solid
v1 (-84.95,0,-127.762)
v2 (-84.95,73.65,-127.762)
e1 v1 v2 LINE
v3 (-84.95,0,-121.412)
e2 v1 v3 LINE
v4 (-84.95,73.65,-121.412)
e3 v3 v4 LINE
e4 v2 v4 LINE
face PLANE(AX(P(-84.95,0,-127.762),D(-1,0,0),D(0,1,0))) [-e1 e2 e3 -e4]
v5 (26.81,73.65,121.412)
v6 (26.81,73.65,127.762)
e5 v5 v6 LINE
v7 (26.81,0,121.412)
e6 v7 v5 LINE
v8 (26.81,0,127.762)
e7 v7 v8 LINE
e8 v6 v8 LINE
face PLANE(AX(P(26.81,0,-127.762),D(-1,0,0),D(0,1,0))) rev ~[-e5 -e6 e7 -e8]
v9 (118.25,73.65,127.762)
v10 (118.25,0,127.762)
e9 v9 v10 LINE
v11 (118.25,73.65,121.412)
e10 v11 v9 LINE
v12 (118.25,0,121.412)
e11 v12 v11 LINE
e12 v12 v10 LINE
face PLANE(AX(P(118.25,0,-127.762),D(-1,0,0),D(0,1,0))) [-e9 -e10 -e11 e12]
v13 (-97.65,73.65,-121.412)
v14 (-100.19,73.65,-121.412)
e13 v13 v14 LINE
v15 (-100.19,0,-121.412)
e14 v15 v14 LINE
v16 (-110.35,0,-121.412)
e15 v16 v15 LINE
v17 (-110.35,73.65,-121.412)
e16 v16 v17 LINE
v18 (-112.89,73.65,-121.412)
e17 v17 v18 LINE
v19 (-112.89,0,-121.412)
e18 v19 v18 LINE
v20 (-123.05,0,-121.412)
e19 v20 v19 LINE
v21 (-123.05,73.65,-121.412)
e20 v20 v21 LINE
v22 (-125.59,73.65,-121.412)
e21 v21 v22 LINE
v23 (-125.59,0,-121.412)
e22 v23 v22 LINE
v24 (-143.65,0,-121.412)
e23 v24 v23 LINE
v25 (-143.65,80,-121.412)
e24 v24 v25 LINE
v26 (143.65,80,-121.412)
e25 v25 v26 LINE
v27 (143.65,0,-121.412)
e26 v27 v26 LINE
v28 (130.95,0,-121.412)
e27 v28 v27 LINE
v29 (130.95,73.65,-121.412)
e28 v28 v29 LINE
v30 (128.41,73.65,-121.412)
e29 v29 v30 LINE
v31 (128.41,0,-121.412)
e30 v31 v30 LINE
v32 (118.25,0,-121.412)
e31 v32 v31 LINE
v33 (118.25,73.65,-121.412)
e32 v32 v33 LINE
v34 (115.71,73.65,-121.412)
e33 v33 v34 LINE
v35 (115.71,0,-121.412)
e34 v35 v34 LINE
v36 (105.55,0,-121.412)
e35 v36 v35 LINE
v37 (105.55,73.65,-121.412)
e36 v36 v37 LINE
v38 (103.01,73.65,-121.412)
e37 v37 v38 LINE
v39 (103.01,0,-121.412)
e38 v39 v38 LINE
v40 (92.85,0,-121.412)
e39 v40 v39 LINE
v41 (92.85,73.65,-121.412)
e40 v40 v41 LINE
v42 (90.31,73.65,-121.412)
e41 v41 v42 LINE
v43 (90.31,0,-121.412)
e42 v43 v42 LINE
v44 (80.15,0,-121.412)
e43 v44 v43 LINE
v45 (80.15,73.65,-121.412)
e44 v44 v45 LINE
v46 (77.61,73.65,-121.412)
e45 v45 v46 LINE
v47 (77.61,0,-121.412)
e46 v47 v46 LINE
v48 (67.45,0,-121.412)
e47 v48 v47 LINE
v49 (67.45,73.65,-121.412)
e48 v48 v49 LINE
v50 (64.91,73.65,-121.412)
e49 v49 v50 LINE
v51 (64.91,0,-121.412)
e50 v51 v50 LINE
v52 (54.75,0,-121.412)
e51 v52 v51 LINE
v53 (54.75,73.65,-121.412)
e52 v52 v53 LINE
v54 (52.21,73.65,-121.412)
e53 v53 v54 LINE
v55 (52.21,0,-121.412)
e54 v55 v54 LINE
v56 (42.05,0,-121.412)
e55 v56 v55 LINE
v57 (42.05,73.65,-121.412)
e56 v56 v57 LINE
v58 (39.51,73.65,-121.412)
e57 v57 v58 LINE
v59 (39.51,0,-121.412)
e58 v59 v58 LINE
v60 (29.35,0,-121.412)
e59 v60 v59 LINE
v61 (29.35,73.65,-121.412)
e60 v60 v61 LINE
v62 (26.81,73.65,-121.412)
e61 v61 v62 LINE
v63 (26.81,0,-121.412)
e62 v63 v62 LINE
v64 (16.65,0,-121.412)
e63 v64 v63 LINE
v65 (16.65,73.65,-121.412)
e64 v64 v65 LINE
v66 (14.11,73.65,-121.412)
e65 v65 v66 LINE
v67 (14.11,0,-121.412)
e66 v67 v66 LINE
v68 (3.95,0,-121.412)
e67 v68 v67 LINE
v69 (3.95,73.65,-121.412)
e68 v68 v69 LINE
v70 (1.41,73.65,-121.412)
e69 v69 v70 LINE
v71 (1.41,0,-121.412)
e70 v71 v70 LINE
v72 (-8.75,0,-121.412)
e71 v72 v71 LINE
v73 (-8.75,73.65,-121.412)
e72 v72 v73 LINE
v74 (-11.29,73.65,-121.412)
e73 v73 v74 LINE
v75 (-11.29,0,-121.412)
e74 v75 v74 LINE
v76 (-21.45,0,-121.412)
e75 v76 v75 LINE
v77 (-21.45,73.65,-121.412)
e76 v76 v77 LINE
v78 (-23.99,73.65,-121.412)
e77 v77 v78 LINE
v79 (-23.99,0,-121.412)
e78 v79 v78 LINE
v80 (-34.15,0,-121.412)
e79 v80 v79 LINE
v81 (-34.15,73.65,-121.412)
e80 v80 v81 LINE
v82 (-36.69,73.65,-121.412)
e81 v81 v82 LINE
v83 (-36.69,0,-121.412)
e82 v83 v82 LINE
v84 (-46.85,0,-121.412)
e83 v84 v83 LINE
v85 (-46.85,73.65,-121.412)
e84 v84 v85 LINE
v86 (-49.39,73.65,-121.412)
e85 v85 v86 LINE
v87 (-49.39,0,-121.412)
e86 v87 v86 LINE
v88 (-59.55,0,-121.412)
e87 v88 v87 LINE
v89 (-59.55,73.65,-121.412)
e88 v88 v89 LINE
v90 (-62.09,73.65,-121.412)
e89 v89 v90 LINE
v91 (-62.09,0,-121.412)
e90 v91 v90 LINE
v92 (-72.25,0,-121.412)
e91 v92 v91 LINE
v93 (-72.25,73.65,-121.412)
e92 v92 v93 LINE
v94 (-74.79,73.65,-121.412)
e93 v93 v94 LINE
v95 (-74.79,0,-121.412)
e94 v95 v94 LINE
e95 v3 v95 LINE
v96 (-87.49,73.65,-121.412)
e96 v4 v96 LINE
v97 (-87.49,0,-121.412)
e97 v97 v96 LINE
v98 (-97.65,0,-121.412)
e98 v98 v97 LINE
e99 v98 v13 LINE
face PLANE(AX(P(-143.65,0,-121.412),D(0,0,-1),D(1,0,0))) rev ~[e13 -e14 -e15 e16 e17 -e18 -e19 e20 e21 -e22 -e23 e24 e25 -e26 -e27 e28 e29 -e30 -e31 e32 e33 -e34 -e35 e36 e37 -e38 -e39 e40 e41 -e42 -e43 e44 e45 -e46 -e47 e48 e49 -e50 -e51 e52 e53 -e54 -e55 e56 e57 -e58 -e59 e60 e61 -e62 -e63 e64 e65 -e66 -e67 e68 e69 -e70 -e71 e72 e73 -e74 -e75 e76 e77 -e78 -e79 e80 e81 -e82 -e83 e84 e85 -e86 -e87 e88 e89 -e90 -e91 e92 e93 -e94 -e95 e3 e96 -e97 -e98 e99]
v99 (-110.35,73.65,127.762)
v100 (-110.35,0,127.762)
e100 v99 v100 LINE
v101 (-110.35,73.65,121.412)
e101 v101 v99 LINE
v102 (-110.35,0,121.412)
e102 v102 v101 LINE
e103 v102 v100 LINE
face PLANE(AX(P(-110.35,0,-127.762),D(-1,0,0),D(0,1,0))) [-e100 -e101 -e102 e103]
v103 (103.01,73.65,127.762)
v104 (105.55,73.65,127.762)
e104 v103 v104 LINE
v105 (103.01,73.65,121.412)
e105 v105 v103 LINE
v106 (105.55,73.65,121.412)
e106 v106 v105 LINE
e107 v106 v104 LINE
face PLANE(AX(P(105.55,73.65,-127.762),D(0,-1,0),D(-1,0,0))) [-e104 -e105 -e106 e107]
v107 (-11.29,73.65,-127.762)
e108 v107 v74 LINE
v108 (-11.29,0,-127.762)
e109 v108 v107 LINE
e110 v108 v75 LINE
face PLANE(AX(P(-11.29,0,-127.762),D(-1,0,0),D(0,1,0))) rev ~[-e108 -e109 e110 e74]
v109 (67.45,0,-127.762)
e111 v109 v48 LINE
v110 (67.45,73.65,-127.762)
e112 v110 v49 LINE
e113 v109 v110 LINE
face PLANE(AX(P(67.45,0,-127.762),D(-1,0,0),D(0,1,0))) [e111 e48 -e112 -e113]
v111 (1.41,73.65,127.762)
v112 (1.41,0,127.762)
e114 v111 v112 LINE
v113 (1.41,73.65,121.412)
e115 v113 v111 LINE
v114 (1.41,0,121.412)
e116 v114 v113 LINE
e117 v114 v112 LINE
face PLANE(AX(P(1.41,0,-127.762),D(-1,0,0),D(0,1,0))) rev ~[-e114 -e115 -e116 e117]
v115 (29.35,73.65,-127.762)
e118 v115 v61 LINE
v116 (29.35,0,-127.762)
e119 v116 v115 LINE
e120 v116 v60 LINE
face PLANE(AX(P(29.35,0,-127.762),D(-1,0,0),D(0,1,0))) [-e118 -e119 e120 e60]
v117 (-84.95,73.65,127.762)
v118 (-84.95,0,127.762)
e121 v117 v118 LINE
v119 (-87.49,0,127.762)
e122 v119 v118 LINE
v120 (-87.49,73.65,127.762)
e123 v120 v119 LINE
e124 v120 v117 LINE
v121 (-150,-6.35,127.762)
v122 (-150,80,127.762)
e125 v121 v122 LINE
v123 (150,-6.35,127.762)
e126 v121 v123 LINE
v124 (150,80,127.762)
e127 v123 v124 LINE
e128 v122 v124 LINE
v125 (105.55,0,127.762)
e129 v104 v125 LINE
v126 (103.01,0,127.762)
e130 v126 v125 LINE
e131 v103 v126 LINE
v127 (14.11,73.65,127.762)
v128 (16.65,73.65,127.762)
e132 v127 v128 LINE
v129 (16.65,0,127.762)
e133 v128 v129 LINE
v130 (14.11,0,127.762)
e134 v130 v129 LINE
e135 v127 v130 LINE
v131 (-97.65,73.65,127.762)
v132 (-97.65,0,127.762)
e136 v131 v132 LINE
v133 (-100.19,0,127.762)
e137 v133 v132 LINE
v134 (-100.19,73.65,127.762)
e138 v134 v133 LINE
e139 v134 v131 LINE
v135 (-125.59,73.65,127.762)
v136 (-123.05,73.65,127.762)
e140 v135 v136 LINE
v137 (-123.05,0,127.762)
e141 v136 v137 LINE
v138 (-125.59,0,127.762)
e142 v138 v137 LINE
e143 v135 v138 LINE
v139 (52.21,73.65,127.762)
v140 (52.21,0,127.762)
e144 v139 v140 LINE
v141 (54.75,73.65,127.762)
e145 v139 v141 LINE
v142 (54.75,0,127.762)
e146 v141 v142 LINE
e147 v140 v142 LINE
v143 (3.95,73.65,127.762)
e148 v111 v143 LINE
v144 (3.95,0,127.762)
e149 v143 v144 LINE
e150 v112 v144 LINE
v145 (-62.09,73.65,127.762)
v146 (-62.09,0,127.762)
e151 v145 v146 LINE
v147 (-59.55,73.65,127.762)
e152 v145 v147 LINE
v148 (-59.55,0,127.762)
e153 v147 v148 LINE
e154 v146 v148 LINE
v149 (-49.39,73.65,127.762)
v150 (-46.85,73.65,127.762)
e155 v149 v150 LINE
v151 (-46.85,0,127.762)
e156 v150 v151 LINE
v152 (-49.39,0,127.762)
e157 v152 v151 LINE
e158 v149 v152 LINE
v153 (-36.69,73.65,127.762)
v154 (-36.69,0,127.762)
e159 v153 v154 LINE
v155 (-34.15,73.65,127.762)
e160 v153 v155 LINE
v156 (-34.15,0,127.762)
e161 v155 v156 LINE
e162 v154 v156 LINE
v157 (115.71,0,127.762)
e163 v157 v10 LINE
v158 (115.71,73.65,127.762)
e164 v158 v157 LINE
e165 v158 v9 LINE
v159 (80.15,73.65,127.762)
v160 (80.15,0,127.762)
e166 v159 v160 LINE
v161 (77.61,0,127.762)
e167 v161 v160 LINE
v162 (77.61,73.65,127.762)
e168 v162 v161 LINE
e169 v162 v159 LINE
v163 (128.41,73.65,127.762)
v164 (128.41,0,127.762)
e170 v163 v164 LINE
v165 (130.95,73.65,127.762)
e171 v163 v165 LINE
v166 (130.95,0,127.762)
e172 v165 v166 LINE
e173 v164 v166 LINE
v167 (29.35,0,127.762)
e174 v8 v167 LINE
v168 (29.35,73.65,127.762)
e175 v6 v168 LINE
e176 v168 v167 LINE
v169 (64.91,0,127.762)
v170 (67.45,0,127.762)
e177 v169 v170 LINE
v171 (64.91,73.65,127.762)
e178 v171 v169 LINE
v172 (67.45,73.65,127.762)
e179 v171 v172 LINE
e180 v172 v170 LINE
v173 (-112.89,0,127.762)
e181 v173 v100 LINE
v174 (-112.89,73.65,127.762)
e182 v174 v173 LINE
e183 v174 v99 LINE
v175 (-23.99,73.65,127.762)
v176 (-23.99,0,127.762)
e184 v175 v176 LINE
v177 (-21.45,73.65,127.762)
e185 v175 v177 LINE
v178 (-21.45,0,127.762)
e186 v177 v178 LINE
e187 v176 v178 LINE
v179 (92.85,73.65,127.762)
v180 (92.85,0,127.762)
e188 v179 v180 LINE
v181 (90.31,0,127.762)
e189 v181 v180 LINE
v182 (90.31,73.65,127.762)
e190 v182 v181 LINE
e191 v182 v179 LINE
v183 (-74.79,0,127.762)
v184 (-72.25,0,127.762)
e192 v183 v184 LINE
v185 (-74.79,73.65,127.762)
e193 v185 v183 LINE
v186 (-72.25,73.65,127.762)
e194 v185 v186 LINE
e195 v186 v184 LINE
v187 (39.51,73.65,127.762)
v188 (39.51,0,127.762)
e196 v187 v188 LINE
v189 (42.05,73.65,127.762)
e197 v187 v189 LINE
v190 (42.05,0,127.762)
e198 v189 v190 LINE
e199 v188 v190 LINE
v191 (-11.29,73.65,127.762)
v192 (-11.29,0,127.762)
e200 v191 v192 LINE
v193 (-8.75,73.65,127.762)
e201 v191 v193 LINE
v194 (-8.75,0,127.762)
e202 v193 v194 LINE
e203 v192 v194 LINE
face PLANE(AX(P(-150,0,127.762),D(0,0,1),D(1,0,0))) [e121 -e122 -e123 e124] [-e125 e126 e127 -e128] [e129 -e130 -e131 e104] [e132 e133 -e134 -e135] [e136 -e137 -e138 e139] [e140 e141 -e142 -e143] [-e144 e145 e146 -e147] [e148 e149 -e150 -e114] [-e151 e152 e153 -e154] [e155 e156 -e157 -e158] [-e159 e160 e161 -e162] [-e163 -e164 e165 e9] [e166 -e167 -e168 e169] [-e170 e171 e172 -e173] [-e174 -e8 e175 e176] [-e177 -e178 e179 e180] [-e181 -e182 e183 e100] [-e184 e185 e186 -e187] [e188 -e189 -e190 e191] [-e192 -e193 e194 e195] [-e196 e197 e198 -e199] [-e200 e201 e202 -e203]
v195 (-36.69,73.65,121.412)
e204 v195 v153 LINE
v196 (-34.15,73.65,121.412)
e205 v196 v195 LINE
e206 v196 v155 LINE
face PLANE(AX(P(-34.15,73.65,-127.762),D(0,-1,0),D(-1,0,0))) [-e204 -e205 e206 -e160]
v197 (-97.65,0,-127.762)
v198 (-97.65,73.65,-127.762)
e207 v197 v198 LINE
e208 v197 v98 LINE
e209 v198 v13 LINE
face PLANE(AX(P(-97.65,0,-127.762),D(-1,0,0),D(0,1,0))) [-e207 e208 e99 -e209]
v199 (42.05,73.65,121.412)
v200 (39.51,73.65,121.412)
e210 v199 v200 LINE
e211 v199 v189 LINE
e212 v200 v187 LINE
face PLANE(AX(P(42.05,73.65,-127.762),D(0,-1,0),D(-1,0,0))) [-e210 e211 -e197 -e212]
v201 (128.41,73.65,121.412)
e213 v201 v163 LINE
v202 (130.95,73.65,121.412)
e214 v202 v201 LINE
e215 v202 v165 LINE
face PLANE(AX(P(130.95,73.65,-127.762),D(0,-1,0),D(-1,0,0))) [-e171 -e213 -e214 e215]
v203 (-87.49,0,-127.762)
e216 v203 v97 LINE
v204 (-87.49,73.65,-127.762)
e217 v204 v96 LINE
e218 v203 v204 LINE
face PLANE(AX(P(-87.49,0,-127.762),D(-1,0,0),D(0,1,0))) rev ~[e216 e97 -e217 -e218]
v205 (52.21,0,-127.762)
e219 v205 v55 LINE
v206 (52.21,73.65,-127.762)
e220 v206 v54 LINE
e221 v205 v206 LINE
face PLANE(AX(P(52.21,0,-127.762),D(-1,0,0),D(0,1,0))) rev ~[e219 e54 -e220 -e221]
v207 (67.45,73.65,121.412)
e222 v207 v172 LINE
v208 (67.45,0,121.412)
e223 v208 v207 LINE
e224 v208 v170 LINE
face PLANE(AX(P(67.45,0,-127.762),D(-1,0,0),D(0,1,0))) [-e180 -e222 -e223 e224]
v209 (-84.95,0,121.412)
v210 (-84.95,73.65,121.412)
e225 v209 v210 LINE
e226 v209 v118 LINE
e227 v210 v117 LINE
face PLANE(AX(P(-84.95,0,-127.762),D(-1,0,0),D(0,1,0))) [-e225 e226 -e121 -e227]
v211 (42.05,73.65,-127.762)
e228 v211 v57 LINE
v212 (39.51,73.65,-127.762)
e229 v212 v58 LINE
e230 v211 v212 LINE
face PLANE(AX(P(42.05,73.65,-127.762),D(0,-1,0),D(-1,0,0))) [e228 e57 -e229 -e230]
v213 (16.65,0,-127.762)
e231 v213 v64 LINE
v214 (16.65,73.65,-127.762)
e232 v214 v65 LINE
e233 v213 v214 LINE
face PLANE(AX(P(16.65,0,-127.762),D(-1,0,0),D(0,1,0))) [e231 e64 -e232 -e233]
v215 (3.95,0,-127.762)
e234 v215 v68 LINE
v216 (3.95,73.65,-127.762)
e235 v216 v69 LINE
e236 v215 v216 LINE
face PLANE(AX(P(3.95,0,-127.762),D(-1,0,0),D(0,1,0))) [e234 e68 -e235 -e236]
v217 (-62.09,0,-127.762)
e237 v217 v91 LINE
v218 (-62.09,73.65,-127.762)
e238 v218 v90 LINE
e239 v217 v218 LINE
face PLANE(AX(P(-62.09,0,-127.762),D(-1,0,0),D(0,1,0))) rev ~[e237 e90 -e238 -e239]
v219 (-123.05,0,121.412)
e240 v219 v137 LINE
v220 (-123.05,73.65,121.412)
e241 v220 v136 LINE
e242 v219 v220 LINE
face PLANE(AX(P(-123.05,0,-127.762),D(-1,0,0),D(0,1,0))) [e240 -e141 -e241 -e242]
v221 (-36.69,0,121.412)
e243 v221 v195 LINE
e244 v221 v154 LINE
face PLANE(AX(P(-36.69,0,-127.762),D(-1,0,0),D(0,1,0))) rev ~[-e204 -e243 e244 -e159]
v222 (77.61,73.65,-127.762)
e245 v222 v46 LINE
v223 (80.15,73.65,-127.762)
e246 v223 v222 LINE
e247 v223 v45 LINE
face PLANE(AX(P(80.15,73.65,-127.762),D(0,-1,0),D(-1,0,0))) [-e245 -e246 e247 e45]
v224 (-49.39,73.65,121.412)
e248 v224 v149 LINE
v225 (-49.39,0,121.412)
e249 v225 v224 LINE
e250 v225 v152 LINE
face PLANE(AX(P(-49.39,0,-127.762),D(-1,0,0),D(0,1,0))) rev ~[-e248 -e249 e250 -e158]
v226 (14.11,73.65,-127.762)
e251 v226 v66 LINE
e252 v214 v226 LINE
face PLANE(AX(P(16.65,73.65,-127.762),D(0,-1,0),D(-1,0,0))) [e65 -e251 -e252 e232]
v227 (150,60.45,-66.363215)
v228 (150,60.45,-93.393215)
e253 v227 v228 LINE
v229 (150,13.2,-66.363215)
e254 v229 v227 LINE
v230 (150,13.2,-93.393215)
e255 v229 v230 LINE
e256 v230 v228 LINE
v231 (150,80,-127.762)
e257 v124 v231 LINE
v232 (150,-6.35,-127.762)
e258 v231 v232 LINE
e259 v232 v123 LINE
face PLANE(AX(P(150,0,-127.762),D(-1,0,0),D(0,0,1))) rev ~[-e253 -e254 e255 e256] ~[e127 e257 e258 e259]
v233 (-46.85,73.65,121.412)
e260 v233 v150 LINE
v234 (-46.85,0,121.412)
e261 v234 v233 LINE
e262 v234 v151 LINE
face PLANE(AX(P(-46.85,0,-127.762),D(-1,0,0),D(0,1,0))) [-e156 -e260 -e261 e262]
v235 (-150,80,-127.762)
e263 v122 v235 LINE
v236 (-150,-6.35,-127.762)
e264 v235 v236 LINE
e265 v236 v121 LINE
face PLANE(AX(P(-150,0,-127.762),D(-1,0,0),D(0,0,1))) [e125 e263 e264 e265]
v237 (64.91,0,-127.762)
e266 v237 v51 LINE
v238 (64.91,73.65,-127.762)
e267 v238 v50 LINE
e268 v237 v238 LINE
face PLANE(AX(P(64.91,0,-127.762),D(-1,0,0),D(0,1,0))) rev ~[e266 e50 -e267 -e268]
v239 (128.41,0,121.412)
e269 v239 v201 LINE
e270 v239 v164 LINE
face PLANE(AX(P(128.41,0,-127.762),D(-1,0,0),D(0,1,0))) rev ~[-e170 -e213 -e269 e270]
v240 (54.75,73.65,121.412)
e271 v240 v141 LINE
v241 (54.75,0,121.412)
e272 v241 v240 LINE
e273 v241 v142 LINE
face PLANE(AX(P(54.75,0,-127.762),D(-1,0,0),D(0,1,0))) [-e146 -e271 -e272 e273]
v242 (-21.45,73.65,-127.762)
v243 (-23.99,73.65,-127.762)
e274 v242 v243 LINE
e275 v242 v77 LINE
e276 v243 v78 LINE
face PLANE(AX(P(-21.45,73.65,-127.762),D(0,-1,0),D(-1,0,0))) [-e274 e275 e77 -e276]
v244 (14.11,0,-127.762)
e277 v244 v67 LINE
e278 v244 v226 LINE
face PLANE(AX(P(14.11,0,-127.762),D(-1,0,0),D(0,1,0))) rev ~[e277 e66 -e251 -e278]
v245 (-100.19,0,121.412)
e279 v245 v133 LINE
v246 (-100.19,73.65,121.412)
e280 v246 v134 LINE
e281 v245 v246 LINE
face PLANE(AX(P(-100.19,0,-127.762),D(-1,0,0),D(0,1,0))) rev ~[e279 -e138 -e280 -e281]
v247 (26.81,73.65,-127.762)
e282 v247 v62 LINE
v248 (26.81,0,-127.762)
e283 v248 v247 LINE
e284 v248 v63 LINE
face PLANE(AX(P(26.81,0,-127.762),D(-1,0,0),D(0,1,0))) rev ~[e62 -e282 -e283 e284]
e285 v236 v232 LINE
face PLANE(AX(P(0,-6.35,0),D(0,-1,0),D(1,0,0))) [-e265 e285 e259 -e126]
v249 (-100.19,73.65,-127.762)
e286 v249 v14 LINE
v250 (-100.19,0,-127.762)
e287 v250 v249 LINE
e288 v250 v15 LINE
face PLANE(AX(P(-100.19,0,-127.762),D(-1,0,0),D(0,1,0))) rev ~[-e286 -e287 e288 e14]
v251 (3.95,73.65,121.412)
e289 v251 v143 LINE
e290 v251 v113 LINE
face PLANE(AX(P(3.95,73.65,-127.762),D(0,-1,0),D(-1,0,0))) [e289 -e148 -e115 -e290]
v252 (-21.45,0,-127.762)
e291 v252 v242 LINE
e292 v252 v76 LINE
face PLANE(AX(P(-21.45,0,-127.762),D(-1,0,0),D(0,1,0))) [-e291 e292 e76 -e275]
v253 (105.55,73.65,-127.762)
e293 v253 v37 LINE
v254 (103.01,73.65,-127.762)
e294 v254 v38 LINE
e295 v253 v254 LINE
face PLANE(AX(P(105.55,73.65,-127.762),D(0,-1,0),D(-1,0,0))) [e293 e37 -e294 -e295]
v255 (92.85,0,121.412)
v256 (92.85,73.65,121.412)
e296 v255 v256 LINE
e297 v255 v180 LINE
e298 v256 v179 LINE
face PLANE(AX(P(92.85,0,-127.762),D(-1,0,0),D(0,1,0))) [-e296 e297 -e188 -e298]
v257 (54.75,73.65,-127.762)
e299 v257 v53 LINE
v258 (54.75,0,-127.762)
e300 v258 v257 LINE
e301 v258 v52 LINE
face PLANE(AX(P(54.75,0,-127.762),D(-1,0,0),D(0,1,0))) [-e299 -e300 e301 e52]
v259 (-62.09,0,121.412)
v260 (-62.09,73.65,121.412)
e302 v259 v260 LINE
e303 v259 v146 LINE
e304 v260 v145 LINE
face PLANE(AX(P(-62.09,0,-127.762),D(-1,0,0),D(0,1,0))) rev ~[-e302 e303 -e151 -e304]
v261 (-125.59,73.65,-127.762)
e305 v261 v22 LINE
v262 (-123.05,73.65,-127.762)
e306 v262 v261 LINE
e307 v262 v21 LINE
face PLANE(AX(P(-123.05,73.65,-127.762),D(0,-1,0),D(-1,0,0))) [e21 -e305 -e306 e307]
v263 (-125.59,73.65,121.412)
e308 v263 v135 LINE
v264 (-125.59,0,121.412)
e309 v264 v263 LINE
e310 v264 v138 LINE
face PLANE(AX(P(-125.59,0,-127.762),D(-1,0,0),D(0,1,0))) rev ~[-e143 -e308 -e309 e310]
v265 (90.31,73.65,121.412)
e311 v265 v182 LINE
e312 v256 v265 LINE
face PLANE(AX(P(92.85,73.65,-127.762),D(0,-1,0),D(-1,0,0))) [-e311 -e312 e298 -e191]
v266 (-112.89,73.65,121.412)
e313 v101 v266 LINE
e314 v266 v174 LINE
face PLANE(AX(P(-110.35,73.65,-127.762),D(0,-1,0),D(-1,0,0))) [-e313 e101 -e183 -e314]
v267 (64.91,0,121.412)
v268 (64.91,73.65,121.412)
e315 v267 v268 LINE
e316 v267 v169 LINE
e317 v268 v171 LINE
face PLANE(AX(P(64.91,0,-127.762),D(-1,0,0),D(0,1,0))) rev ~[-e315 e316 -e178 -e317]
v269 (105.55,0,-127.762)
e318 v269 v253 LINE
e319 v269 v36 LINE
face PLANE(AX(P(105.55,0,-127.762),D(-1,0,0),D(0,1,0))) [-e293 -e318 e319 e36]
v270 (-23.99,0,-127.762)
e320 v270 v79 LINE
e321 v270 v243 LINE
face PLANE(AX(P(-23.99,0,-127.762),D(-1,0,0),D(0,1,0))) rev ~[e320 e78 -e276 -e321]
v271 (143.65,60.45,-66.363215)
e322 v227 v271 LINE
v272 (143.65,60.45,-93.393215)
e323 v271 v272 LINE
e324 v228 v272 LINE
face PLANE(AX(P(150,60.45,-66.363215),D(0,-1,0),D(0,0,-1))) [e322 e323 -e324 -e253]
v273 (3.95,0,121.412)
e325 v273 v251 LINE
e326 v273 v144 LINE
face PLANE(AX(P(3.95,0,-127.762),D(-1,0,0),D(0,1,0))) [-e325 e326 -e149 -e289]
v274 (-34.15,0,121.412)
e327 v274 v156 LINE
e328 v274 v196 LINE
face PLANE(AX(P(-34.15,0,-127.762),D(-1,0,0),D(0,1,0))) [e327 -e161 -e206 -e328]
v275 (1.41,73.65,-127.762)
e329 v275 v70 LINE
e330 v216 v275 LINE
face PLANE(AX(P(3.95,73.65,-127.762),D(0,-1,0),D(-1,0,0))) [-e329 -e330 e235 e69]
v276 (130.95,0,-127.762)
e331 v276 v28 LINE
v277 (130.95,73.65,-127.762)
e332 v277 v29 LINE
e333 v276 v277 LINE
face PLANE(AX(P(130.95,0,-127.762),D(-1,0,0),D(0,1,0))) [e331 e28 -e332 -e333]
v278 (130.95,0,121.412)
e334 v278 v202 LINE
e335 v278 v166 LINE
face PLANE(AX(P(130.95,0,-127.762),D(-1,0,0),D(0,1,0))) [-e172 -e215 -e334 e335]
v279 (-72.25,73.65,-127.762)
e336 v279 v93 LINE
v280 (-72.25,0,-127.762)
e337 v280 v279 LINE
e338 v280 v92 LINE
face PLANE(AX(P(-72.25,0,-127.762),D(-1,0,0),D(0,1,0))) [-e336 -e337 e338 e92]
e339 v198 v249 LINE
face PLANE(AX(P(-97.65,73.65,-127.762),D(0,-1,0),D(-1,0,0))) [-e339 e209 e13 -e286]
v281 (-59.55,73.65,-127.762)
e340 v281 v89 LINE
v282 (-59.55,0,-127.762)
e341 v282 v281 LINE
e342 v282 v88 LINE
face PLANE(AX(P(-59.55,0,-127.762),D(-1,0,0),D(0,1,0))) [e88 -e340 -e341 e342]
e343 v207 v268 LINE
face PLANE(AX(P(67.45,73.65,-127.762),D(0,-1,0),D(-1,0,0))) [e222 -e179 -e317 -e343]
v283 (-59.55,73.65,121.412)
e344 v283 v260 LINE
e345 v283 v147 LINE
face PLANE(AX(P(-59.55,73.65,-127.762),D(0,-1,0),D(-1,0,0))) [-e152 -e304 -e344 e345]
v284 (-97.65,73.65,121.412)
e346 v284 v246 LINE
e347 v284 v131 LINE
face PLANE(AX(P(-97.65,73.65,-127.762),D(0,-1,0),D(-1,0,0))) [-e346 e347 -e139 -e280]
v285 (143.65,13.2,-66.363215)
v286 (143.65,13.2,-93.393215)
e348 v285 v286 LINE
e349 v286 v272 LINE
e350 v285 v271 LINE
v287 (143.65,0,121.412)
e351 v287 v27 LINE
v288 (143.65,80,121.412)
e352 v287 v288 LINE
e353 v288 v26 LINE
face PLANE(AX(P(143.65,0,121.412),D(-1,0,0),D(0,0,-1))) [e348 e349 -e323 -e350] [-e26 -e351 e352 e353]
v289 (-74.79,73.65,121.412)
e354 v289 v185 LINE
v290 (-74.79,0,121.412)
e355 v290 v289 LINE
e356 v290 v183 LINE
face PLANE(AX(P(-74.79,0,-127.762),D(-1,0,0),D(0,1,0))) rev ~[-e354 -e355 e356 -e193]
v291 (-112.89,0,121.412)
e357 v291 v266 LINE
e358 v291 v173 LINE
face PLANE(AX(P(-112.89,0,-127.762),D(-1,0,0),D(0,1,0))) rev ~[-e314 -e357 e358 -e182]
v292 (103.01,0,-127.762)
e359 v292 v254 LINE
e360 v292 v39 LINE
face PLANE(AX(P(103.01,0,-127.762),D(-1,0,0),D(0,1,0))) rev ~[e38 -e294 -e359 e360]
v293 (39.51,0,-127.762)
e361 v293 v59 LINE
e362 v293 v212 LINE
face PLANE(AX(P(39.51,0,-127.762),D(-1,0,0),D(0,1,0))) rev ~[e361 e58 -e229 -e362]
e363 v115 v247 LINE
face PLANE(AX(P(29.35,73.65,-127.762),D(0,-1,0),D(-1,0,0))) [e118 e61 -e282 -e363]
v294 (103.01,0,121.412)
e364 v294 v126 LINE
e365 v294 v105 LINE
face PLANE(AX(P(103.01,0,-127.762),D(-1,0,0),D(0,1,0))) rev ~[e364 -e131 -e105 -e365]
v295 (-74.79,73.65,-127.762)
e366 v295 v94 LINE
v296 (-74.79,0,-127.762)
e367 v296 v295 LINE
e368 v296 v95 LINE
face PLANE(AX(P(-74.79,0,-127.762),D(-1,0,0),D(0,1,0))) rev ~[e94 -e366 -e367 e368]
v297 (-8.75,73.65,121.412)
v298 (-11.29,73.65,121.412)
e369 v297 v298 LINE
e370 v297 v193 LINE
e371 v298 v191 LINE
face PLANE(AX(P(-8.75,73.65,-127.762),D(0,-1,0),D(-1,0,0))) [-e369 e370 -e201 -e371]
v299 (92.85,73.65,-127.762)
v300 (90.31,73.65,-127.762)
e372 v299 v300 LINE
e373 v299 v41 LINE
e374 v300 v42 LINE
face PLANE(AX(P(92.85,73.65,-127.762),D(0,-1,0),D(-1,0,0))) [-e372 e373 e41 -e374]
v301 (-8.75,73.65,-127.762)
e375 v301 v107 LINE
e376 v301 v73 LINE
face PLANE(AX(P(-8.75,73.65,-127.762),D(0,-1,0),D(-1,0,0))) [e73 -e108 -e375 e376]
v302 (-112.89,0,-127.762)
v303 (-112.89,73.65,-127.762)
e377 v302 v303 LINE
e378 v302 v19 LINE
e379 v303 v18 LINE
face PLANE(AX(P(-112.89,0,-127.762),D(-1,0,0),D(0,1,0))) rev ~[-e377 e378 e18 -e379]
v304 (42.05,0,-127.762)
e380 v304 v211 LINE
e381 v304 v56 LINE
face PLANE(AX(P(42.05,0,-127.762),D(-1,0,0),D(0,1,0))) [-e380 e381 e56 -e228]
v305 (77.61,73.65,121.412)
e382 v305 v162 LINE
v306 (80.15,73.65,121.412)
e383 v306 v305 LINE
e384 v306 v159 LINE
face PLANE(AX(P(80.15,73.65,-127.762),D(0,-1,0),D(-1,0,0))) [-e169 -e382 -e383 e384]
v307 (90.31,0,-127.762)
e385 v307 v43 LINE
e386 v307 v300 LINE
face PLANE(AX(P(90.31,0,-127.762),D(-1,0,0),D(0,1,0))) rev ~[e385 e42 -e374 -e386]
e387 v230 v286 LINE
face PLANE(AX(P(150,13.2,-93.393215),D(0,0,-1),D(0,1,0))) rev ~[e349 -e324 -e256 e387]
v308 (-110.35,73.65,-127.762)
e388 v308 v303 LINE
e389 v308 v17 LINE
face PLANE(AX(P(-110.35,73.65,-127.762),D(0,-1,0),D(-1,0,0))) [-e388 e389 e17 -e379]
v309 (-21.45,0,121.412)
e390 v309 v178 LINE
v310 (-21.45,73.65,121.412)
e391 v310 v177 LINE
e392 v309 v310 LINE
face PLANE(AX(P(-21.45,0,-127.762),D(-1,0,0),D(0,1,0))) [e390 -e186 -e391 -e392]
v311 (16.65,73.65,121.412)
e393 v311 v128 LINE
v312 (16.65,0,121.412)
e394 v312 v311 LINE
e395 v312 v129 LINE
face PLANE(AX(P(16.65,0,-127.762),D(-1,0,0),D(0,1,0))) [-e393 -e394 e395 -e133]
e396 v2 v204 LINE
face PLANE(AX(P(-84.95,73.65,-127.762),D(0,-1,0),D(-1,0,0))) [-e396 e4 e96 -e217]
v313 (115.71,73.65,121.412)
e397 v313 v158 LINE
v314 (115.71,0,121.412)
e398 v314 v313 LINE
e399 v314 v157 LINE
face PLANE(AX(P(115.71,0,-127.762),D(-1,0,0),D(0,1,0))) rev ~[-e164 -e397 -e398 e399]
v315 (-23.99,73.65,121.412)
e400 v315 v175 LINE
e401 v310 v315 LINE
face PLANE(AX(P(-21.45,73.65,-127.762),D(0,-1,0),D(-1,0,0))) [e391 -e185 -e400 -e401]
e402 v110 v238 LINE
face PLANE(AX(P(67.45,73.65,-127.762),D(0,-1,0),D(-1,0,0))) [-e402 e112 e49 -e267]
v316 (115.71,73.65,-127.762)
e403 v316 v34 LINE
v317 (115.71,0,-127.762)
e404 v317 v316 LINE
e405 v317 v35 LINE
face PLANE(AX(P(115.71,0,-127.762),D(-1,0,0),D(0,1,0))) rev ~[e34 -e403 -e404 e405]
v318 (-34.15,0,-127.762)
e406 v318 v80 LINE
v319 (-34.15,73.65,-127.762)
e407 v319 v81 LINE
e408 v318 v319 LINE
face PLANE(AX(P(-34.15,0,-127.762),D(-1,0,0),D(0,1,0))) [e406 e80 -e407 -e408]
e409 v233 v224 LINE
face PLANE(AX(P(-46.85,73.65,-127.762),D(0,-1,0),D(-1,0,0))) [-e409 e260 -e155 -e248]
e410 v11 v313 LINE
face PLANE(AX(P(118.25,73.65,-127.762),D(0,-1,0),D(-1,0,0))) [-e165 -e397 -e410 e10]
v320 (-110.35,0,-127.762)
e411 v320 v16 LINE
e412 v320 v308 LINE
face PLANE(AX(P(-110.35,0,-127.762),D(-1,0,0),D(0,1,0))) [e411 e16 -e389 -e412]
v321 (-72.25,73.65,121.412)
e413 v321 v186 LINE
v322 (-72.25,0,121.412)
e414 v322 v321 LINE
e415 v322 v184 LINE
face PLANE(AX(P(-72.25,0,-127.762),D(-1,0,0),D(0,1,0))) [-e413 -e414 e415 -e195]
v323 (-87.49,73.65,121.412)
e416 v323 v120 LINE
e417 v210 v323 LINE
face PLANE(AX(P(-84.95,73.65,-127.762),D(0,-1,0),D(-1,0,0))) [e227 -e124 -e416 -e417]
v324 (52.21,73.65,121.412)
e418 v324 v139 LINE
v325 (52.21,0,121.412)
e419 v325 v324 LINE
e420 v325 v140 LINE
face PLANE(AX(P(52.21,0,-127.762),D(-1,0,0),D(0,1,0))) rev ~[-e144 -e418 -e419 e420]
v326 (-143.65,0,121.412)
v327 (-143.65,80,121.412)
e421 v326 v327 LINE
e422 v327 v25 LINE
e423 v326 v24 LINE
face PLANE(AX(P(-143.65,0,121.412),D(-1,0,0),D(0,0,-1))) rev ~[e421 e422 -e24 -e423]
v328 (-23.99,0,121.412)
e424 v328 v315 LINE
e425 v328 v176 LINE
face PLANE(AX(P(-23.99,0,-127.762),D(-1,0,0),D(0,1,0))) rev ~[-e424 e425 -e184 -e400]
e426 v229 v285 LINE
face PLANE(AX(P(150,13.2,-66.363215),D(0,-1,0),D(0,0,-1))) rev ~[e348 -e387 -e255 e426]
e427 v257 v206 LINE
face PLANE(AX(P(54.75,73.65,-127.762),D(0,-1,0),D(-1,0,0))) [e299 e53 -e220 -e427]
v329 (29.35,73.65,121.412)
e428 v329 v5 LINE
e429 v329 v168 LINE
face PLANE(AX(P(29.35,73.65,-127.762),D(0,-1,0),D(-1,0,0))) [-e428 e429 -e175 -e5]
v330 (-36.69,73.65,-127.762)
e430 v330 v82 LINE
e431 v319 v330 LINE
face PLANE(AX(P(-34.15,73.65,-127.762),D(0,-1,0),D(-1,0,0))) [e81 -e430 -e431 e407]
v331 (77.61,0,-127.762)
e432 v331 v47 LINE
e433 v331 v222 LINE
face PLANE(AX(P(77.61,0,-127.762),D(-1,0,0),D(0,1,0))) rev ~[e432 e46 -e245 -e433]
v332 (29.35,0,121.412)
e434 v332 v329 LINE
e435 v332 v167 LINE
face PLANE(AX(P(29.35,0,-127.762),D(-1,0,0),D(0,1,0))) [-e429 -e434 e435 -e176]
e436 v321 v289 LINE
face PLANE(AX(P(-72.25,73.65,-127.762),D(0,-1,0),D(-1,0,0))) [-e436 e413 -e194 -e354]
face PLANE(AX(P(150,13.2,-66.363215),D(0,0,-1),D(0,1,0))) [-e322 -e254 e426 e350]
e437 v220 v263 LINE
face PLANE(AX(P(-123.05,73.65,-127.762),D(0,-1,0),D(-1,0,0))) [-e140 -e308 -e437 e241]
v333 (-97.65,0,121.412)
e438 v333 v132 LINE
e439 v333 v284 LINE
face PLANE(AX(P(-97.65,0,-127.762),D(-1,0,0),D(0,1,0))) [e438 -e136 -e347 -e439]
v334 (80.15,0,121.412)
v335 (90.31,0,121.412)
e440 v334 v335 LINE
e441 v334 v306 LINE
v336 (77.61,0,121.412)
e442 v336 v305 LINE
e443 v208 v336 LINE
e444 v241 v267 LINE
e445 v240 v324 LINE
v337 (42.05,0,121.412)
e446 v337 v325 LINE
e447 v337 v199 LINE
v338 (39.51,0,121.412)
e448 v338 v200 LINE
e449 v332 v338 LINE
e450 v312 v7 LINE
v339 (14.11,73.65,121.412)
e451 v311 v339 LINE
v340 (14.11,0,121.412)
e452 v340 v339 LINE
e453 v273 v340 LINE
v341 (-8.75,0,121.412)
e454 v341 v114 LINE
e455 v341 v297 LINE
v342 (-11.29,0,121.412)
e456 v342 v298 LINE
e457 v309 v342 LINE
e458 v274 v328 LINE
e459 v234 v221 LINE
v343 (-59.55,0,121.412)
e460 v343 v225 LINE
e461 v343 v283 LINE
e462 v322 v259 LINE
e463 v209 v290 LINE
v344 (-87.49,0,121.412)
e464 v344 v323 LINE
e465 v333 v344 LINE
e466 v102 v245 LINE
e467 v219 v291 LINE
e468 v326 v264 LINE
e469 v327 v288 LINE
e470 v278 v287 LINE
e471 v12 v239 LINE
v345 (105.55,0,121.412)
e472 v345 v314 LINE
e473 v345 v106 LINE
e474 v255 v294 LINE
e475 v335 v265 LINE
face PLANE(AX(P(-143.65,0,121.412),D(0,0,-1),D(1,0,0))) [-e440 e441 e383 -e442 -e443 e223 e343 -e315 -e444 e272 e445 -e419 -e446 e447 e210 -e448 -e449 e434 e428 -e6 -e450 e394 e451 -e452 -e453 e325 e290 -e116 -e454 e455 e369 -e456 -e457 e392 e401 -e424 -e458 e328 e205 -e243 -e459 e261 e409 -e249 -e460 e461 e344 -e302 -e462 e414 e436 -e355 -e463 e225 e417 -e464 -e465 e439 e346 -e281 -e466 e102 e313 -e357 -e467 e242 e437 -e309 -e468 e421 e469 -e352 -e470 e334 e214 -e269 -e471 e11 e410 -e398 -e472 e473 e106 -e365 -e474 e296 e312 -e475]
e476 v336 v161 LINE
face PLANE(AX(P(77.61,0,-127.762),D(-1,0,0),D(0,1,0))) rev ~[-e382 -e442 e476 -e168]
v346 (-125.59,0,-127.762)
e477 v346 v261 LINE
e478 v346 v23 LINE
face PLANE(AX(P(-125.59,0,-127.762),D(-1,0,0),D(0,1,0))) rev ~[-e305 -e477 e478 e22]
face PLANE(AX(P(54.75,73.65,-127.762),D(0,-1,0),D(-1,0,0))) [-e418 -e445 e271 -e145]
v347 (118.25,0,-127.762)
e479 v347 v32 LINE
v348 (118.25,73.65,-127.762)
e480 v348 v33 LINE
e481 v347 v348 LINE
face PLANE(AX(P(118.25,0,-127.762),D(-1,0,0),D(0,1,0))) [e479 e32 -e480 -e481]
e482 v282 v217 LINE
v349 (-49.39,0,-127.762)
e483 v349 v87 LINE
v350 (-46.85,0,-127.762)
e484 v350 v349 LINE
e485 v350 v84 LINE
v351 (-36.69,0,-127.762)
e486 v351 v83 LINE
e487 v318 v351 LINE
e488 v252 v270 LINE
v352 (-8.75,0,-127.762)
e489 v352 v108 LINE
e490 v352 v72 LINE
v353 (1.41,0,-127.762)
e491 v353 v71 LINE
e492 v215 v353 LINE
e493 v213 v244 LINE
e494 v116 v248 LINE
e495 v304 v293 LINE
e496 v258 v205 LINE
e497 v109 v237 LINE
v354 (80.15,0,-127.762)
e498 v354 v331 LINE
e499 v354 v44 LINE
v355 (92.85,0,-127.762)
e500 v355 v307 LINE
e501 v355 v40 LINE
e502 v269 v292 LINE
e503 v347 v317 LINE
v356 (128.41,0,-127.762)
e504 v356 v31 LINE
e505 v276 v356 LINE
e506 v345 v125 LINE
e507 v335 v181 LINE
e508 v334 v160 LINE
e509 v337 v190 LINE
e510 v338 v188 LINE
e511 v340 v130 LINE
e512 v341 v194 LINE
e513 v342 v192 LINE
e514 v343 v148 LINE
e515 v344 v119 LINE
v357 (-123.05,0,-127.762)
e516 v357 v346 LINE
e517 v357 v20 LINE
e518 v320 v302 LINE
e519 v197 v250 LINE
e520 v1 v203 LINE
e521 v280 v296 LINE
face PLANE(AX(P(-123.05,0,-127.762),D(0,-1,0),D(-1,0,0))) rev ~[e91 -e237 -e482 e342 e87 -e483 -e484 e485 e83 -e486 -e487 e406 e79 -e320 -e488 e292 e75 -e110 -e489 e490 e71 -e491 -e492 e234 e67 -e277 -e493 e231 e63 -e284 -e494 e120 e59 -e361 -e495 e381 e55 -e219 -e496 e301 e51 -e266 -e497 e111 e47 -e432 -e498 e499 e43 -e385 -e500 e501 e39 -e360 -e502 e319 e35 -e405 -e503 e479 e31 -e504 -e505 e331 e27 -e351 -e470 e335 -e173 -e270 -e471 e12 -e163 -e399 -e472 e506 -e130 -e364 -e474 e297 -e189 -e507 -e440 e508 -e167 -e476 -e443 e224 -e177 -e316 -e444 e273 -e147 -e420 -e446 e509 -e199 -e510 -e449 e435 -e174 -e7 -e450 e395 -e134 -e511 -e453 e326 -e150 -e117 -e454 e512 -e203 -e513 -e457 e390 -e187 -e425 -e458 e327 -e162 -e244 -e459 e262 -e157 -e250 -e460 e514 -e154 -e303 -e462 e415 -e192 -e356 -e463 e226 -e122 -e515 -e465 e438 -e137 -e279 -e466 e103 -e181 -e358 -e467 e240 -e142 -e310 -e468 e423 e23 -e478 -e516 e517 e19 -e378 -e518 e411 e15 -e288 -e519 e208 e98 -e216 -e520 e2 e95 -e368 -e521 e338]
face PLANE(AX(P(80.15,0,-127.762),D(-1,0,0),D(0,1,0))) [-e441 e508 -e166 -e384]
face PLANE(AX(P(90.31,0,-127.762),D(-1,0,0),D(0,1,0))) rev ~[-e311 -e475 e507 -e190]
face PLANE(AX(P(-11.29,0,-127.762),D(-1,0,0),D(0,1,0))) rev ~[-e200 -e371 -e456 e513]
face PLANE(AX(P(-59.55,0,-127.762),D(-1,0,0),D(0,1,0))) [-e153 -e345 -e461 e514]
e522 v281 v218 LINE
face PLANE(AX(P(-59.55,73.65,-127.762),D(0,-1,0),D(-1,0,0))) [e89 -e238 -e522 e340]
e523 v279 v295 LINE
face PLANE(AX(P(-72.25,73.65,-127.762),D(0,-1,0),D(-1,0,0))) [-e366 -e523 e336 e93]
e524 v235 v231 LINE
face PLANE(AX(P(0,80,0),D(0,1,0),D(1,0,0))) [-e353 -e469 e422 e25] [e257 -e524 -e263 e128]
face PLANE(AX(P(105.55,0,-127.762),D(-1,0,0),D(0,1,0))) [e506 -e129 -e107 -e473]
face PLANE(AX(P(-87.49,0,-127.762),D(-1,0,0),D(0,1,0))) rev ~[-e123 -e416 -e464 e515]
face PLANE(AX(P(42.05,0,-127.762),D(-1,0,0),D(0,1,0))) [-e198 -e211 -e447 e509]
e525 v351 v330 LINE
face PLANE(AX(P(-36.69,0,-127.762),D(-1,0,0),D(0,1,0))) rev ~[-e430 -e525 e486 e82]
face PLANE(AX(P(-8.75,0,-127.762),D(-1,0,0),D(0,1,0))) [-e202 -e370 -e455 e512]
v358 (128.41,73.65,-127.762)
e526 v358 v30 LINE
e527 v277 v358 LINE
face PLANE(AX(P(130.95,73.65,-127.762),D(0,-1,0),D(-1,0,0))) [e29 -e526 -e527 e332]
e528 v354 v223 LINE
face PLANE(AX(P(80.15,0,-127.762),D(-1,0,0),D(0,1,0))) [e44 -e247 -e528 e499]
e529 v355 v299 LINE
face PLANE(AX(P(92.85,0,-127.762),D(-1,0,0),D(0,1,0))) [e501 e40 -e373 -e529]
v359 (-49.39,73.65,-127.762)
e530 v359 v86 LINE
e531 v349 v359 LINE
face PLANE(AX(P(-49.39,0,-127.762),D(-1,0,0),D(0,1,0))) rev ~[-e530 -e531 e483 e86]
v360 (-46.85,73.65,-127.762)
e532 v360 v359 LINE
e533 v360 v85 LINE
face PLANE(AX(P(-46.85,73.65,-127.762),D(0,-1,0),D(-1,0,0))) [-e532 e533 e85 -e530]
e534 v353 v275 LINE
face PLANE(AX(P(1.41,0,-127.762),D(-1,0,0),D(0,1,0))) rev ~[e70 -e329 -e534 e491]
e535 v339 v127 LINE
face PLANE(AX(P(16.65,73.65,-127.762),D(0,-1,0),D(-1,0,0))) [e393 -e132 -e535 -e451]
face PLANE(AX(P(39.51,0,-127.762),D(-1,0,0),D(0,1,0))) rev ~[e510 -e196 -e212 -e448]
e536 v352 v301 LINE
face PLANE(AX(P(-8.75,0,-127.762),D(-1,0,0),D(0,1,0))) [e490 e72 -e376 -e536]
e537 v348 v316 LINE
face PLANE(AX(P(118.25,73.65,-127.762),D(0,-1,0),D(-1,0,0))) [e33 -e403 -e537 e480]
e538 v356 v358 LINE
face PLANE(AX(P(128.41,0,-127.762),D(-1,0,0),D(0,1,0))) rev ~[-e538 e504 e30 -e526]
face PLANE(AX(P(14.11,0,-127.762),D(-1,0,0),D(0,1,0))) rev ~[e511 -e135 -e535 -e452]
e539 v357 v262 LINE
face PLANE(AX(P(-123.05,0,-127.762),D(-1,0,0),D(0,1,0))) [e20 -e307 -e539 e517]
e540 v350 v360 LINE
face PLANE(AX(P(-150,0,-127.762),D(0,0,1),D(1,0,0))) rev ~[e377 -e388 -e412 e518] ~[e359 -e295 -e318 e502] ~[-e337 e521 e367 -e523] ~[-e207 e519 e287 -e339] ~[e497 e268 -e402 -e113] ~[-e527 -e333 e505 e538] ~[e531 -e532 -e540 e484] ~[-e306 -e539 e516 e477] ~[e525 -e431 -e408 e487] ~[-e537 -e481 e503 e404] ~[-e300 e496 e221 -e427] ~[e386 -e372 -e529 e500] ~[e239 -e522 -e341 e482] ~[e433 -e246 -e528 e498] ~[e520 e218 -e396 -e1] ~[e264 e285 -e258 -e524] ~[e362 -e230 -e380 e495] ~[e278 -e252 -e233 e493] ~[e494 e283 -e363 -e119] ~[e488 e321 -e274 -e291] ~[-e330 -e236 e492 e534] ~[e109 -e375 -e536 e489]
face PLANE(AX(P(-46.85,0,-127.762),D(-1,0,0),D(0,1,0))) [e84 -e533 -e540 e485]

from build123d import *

# Parameters (mm, degrees)
SKETCH1_W           = 300
SKETCH1_H           = 255.524
SKETCH1_W_2         = 287.3
SKETCH1_H_2         = 242.824
BOSS_EXTRUDE1_DEPTH = 80
SKETCH2_W           = 300
SKETCH2_H           = 255.524
BOSS_EXTRUDE2_DEPTH = 6.35
SKETCH4_W           = 27.03
SKETCH4_H           = 47.25
CUT_EXTRUDE1_DEPTH  = 6.35
SKETCH5_W           = 2.54
SKETCH5_H           = 73.65
BOSS_EXTRUDE4_DEPTH = 324.866
LPATTERN2_COUNT     = 21
LPATTERN2_PITCH     = 12.7


with BuildPart() as part:
    # Sketch1 → Boss-Extrude1 (new body)
    with BuildSketch(Plane(origin=(0, 0, 0), x_dir=(1, 0, 0), z_dir=(0, 1, 0))):
        Rectangle(SKETCH1_W, SKETCH1_H)
        Rectangle(SKETCH1_W_2, SKETCH1_H_2, mode=Mode.SUBTRACT)
    extrude(amount=BOSS_EXTRUDE1_DEPTH)

    # Sketch2 → Boss-Extrude2 (add)
    with BuildSketch(Plane.XZ):
        Rectangle(SKETCH2_W, SKETCH2_H)
    extrude(amount=BOSS_EXTRUDE2_DEPTH)

    # Sketch4 → Cut-Extrude1 (cut)
    with BuildSketch(Plane(origin=(150, 0, 0), x_dir=(0, 0, -1), z_dir=(1, 0, 0))):
        with Locations((79.878215203, 36.825)):
            Rectangle(SKETCH4_W, SKETCH4_H)
    extrude(amount=-CUT_EXTRUDE1_DEPTH, mode=Mode.SUBTRACT)


with BuildPart() as body_2:
    # Sketch5 → Boss-Extrude4 (new body)
    with BuildSketch(Plane(origin=(0, 0, -127.762), x_dir=(-1, 0, 0), z_dir=(0, 0, -1))):
        with Locations((-129.68, 36.825)):
            Rectangle(SKETCH5_W, SKETCH5_H)
    boss_extrude4 = extrude(amount=-BOSS_EXTRUDE4_DEPTH)


with BuildPart() as lpattern2_1:
    # LPattern2: pattern copy
    add(boss_extrude4.moved(Location(Vector(-1, 0, 0) * (1 * LPATTERN2_PITCH))))


with BuildPart() as lpattern2_2:
    # LPattern2: pattern copy
    add(boss_extrude4.moved(Location(Vector(-1, 0, 0) * (2 * LPATTERN2_PITCH))))


with BuildPart() as lpattern2_3:
    # LPattern2: pattern copy
    add(boss_extrude4.moved(Location(Vector(-1, 0, 0) * (3 * LPATTERN2_PITCH))))


with BuildPart() as lpattern2_4:
    # LPattern2: pattern copy
    add(boss_extrude4.moved(Location(Vector(-1, 0, 0) * (4 * LPATTERN2_PITCH))))


with BuildPart() as lpattern2_5:
    # LPattern2: pattern copy
    add(boss_extrude4.moved(Location(Vector(-1, 0, 0) * (5 * LPATTERN2_PITCH))))


with BuildPart() as lpattern2_6:
    # LPattern2: pattern copy
    add(boss_extrude4.moved(Location(Vector(-1, 0, 0) * (6 * LPATTERN2_PITCH))))


with BuildPart() as lpattern2_7:
    # LPattern2: pattern copy
    add(boss_extrude4.moved(Location(Vector(-1, 0, 0) * (7 * LPATTERN2_PITCH))))


with BuildPart() as lpattern2_8:
    # LPattern2: pattern copy
    add(boss_extrude4.moved(Location(Vector(-1, 0, 0) * (8 * LPATTERN2_PITCH))))


with BuildPart() as lpattern2_9:
    # LPattern2: pattern copy
    add(boss_extrude4.moved(Location(Vector(-1, 0, 0) * (9 * LPATTERN2_PITCH))))


with BuildPart() as lpattern2_10:
    # LPattern2: pattern copy
    add(boss_extrude4.moved(Location(Vector(-1, 0, 0) * (10 * LPATTERN2_PITCH))))


with BuildPart() as lpattern2_11:
    # LPattern2: pattern copy
    add(boss_extrude4.moved(Location(Vector(-1, 0, 0) * (11 * LPATTERN2_PITCH))))


with BuildPart() as lpattern2_12:
    # LPattern2: pattern copy
    add(boss_extrude4.moved(Location(Vector(-1, 0, 0) * (12 * LPATTERN2_PITCH))))


with BuildPart() as lpattern2_13:
    # LPattern2: pattern copy
    add(boss_extrude4.moved(Location(Vector(-1, 0, 0) * (13 * LPATTERN2_PITCH))))


with BuildPart() as lpattern2_14:
    # LPattern2: pattern copy
    add(boss_extrude4.moved(Location(Vector(-1, 0, 0) * (14 * LPATTERN2_PITCH))))


with BuildPart() as lpattern2_15:
    # LPattern2: pattern copy
    add(boss_extrude4.moved(Location(Vector(-1, 0, 0) * (15 * LPATTERN2_PITCH))))


with BuildPart() as lpattern2_16:
    # LPattern2: pattern copy
    add(boss_extrude4.moved(Location(Vector(-1, 0, 0) * (16 * LPATTERN2_PITCH))))


with BuildPart() as lpattern2_17:
    # LPattern2: pattern copy
    add(boss_extrude4.moved(Location(Vector(-1, 0, 0) * (17 * LPATTERN2_PITCH))))


with BuildPart() as lpattern2_18:
    # LPattern2: pattern copy
    add(boss_extrude4.moved(Location(Vector(-1, 0, 0) * (18 * LPATTERN2_PITCH))))


with BuildPart() as lpattern2_19:
    # LPattern2: pattern copy
    add(boss_extrude4.moved(Location(Vector(-1, 0, 0) * (19 * LPATTERN2_PITCH))))


with BuildPart() as lpattern2_20:
    # LPattern2: pattern copy
    add(boss_extrude4.moved(Location(Vector(-1, 0, 0) * (20 * LPATTERN2_PITCH))))


with BuildPart() as part_1:
    add(part.part)

    # Combine2: cut LPattern2_11, body 2, LPattern2_1, LPattern2_2, LPattern2_4, LPattern2_3, LPattern2_5, LPattern2_6, LPattern2_7, LPattern2_8, LPattern2_10, LPattern2_9, LPattern2_12, LPattern2_13, LPattern2_15, LPattern2_16, LPattern2_19, LPattern2_20, LPattern2_18, LPattern2_17, LPattern2_14
    add(lpattern2_11.part, mode=Mode.SUBTRACT)
    add(body_2.part, mode=Mode.SUBTRACT)
    add(lpattern2_1.part, mode=Mode.SUBTRACT)
    add(lpattern2_2.part, mode=Mode.SUBTRACT)
    add(lpattern2_4.part, mode=Mode.SUBTRACT)
    add(lpattern2_3.part, mode=Mode.SUBTRACT)
    add(lpattern2_5.part, mode=Mode.SUBTRACT)
    add(lpattern2_6.part, mode=Mode.SUBTRACT)
    add(lpattern2_7.part, mode=Mode.SUBTRACT)
    add(lpattern2_8.part, mode=Mode.SUBTRACT)
    add(lpattern2_10.part, mode=Mode.SUBTRACT)
    add(lpattern2_9.part, mode=Mode.SUBTRACT)
    add(lpattern2_12.part, mode=Mode.SUBTRACT)
    add(lpattern2_13.part, mode=Mode.SUBTRACT)
    add(lpattern2_15.part, mode=Mode.SUBTRACT)
    add(lpattern2_16.part, mode=Mode.SUBTRACT)
    add(lpattern2_19.part, mode=Mode.SUBTRACT)
    add(lpattern2_20.part, mode=Mode.SUBTRACT)
    add(lpattern2_18.part, mode=Mode.SUBTRACT)
    add(lpattern2_17.part, mode=Mode.SUBTRACT)
    add(lpattern2_14.part, mode=Mode.SUBTRACT)


solid = part_1.part
